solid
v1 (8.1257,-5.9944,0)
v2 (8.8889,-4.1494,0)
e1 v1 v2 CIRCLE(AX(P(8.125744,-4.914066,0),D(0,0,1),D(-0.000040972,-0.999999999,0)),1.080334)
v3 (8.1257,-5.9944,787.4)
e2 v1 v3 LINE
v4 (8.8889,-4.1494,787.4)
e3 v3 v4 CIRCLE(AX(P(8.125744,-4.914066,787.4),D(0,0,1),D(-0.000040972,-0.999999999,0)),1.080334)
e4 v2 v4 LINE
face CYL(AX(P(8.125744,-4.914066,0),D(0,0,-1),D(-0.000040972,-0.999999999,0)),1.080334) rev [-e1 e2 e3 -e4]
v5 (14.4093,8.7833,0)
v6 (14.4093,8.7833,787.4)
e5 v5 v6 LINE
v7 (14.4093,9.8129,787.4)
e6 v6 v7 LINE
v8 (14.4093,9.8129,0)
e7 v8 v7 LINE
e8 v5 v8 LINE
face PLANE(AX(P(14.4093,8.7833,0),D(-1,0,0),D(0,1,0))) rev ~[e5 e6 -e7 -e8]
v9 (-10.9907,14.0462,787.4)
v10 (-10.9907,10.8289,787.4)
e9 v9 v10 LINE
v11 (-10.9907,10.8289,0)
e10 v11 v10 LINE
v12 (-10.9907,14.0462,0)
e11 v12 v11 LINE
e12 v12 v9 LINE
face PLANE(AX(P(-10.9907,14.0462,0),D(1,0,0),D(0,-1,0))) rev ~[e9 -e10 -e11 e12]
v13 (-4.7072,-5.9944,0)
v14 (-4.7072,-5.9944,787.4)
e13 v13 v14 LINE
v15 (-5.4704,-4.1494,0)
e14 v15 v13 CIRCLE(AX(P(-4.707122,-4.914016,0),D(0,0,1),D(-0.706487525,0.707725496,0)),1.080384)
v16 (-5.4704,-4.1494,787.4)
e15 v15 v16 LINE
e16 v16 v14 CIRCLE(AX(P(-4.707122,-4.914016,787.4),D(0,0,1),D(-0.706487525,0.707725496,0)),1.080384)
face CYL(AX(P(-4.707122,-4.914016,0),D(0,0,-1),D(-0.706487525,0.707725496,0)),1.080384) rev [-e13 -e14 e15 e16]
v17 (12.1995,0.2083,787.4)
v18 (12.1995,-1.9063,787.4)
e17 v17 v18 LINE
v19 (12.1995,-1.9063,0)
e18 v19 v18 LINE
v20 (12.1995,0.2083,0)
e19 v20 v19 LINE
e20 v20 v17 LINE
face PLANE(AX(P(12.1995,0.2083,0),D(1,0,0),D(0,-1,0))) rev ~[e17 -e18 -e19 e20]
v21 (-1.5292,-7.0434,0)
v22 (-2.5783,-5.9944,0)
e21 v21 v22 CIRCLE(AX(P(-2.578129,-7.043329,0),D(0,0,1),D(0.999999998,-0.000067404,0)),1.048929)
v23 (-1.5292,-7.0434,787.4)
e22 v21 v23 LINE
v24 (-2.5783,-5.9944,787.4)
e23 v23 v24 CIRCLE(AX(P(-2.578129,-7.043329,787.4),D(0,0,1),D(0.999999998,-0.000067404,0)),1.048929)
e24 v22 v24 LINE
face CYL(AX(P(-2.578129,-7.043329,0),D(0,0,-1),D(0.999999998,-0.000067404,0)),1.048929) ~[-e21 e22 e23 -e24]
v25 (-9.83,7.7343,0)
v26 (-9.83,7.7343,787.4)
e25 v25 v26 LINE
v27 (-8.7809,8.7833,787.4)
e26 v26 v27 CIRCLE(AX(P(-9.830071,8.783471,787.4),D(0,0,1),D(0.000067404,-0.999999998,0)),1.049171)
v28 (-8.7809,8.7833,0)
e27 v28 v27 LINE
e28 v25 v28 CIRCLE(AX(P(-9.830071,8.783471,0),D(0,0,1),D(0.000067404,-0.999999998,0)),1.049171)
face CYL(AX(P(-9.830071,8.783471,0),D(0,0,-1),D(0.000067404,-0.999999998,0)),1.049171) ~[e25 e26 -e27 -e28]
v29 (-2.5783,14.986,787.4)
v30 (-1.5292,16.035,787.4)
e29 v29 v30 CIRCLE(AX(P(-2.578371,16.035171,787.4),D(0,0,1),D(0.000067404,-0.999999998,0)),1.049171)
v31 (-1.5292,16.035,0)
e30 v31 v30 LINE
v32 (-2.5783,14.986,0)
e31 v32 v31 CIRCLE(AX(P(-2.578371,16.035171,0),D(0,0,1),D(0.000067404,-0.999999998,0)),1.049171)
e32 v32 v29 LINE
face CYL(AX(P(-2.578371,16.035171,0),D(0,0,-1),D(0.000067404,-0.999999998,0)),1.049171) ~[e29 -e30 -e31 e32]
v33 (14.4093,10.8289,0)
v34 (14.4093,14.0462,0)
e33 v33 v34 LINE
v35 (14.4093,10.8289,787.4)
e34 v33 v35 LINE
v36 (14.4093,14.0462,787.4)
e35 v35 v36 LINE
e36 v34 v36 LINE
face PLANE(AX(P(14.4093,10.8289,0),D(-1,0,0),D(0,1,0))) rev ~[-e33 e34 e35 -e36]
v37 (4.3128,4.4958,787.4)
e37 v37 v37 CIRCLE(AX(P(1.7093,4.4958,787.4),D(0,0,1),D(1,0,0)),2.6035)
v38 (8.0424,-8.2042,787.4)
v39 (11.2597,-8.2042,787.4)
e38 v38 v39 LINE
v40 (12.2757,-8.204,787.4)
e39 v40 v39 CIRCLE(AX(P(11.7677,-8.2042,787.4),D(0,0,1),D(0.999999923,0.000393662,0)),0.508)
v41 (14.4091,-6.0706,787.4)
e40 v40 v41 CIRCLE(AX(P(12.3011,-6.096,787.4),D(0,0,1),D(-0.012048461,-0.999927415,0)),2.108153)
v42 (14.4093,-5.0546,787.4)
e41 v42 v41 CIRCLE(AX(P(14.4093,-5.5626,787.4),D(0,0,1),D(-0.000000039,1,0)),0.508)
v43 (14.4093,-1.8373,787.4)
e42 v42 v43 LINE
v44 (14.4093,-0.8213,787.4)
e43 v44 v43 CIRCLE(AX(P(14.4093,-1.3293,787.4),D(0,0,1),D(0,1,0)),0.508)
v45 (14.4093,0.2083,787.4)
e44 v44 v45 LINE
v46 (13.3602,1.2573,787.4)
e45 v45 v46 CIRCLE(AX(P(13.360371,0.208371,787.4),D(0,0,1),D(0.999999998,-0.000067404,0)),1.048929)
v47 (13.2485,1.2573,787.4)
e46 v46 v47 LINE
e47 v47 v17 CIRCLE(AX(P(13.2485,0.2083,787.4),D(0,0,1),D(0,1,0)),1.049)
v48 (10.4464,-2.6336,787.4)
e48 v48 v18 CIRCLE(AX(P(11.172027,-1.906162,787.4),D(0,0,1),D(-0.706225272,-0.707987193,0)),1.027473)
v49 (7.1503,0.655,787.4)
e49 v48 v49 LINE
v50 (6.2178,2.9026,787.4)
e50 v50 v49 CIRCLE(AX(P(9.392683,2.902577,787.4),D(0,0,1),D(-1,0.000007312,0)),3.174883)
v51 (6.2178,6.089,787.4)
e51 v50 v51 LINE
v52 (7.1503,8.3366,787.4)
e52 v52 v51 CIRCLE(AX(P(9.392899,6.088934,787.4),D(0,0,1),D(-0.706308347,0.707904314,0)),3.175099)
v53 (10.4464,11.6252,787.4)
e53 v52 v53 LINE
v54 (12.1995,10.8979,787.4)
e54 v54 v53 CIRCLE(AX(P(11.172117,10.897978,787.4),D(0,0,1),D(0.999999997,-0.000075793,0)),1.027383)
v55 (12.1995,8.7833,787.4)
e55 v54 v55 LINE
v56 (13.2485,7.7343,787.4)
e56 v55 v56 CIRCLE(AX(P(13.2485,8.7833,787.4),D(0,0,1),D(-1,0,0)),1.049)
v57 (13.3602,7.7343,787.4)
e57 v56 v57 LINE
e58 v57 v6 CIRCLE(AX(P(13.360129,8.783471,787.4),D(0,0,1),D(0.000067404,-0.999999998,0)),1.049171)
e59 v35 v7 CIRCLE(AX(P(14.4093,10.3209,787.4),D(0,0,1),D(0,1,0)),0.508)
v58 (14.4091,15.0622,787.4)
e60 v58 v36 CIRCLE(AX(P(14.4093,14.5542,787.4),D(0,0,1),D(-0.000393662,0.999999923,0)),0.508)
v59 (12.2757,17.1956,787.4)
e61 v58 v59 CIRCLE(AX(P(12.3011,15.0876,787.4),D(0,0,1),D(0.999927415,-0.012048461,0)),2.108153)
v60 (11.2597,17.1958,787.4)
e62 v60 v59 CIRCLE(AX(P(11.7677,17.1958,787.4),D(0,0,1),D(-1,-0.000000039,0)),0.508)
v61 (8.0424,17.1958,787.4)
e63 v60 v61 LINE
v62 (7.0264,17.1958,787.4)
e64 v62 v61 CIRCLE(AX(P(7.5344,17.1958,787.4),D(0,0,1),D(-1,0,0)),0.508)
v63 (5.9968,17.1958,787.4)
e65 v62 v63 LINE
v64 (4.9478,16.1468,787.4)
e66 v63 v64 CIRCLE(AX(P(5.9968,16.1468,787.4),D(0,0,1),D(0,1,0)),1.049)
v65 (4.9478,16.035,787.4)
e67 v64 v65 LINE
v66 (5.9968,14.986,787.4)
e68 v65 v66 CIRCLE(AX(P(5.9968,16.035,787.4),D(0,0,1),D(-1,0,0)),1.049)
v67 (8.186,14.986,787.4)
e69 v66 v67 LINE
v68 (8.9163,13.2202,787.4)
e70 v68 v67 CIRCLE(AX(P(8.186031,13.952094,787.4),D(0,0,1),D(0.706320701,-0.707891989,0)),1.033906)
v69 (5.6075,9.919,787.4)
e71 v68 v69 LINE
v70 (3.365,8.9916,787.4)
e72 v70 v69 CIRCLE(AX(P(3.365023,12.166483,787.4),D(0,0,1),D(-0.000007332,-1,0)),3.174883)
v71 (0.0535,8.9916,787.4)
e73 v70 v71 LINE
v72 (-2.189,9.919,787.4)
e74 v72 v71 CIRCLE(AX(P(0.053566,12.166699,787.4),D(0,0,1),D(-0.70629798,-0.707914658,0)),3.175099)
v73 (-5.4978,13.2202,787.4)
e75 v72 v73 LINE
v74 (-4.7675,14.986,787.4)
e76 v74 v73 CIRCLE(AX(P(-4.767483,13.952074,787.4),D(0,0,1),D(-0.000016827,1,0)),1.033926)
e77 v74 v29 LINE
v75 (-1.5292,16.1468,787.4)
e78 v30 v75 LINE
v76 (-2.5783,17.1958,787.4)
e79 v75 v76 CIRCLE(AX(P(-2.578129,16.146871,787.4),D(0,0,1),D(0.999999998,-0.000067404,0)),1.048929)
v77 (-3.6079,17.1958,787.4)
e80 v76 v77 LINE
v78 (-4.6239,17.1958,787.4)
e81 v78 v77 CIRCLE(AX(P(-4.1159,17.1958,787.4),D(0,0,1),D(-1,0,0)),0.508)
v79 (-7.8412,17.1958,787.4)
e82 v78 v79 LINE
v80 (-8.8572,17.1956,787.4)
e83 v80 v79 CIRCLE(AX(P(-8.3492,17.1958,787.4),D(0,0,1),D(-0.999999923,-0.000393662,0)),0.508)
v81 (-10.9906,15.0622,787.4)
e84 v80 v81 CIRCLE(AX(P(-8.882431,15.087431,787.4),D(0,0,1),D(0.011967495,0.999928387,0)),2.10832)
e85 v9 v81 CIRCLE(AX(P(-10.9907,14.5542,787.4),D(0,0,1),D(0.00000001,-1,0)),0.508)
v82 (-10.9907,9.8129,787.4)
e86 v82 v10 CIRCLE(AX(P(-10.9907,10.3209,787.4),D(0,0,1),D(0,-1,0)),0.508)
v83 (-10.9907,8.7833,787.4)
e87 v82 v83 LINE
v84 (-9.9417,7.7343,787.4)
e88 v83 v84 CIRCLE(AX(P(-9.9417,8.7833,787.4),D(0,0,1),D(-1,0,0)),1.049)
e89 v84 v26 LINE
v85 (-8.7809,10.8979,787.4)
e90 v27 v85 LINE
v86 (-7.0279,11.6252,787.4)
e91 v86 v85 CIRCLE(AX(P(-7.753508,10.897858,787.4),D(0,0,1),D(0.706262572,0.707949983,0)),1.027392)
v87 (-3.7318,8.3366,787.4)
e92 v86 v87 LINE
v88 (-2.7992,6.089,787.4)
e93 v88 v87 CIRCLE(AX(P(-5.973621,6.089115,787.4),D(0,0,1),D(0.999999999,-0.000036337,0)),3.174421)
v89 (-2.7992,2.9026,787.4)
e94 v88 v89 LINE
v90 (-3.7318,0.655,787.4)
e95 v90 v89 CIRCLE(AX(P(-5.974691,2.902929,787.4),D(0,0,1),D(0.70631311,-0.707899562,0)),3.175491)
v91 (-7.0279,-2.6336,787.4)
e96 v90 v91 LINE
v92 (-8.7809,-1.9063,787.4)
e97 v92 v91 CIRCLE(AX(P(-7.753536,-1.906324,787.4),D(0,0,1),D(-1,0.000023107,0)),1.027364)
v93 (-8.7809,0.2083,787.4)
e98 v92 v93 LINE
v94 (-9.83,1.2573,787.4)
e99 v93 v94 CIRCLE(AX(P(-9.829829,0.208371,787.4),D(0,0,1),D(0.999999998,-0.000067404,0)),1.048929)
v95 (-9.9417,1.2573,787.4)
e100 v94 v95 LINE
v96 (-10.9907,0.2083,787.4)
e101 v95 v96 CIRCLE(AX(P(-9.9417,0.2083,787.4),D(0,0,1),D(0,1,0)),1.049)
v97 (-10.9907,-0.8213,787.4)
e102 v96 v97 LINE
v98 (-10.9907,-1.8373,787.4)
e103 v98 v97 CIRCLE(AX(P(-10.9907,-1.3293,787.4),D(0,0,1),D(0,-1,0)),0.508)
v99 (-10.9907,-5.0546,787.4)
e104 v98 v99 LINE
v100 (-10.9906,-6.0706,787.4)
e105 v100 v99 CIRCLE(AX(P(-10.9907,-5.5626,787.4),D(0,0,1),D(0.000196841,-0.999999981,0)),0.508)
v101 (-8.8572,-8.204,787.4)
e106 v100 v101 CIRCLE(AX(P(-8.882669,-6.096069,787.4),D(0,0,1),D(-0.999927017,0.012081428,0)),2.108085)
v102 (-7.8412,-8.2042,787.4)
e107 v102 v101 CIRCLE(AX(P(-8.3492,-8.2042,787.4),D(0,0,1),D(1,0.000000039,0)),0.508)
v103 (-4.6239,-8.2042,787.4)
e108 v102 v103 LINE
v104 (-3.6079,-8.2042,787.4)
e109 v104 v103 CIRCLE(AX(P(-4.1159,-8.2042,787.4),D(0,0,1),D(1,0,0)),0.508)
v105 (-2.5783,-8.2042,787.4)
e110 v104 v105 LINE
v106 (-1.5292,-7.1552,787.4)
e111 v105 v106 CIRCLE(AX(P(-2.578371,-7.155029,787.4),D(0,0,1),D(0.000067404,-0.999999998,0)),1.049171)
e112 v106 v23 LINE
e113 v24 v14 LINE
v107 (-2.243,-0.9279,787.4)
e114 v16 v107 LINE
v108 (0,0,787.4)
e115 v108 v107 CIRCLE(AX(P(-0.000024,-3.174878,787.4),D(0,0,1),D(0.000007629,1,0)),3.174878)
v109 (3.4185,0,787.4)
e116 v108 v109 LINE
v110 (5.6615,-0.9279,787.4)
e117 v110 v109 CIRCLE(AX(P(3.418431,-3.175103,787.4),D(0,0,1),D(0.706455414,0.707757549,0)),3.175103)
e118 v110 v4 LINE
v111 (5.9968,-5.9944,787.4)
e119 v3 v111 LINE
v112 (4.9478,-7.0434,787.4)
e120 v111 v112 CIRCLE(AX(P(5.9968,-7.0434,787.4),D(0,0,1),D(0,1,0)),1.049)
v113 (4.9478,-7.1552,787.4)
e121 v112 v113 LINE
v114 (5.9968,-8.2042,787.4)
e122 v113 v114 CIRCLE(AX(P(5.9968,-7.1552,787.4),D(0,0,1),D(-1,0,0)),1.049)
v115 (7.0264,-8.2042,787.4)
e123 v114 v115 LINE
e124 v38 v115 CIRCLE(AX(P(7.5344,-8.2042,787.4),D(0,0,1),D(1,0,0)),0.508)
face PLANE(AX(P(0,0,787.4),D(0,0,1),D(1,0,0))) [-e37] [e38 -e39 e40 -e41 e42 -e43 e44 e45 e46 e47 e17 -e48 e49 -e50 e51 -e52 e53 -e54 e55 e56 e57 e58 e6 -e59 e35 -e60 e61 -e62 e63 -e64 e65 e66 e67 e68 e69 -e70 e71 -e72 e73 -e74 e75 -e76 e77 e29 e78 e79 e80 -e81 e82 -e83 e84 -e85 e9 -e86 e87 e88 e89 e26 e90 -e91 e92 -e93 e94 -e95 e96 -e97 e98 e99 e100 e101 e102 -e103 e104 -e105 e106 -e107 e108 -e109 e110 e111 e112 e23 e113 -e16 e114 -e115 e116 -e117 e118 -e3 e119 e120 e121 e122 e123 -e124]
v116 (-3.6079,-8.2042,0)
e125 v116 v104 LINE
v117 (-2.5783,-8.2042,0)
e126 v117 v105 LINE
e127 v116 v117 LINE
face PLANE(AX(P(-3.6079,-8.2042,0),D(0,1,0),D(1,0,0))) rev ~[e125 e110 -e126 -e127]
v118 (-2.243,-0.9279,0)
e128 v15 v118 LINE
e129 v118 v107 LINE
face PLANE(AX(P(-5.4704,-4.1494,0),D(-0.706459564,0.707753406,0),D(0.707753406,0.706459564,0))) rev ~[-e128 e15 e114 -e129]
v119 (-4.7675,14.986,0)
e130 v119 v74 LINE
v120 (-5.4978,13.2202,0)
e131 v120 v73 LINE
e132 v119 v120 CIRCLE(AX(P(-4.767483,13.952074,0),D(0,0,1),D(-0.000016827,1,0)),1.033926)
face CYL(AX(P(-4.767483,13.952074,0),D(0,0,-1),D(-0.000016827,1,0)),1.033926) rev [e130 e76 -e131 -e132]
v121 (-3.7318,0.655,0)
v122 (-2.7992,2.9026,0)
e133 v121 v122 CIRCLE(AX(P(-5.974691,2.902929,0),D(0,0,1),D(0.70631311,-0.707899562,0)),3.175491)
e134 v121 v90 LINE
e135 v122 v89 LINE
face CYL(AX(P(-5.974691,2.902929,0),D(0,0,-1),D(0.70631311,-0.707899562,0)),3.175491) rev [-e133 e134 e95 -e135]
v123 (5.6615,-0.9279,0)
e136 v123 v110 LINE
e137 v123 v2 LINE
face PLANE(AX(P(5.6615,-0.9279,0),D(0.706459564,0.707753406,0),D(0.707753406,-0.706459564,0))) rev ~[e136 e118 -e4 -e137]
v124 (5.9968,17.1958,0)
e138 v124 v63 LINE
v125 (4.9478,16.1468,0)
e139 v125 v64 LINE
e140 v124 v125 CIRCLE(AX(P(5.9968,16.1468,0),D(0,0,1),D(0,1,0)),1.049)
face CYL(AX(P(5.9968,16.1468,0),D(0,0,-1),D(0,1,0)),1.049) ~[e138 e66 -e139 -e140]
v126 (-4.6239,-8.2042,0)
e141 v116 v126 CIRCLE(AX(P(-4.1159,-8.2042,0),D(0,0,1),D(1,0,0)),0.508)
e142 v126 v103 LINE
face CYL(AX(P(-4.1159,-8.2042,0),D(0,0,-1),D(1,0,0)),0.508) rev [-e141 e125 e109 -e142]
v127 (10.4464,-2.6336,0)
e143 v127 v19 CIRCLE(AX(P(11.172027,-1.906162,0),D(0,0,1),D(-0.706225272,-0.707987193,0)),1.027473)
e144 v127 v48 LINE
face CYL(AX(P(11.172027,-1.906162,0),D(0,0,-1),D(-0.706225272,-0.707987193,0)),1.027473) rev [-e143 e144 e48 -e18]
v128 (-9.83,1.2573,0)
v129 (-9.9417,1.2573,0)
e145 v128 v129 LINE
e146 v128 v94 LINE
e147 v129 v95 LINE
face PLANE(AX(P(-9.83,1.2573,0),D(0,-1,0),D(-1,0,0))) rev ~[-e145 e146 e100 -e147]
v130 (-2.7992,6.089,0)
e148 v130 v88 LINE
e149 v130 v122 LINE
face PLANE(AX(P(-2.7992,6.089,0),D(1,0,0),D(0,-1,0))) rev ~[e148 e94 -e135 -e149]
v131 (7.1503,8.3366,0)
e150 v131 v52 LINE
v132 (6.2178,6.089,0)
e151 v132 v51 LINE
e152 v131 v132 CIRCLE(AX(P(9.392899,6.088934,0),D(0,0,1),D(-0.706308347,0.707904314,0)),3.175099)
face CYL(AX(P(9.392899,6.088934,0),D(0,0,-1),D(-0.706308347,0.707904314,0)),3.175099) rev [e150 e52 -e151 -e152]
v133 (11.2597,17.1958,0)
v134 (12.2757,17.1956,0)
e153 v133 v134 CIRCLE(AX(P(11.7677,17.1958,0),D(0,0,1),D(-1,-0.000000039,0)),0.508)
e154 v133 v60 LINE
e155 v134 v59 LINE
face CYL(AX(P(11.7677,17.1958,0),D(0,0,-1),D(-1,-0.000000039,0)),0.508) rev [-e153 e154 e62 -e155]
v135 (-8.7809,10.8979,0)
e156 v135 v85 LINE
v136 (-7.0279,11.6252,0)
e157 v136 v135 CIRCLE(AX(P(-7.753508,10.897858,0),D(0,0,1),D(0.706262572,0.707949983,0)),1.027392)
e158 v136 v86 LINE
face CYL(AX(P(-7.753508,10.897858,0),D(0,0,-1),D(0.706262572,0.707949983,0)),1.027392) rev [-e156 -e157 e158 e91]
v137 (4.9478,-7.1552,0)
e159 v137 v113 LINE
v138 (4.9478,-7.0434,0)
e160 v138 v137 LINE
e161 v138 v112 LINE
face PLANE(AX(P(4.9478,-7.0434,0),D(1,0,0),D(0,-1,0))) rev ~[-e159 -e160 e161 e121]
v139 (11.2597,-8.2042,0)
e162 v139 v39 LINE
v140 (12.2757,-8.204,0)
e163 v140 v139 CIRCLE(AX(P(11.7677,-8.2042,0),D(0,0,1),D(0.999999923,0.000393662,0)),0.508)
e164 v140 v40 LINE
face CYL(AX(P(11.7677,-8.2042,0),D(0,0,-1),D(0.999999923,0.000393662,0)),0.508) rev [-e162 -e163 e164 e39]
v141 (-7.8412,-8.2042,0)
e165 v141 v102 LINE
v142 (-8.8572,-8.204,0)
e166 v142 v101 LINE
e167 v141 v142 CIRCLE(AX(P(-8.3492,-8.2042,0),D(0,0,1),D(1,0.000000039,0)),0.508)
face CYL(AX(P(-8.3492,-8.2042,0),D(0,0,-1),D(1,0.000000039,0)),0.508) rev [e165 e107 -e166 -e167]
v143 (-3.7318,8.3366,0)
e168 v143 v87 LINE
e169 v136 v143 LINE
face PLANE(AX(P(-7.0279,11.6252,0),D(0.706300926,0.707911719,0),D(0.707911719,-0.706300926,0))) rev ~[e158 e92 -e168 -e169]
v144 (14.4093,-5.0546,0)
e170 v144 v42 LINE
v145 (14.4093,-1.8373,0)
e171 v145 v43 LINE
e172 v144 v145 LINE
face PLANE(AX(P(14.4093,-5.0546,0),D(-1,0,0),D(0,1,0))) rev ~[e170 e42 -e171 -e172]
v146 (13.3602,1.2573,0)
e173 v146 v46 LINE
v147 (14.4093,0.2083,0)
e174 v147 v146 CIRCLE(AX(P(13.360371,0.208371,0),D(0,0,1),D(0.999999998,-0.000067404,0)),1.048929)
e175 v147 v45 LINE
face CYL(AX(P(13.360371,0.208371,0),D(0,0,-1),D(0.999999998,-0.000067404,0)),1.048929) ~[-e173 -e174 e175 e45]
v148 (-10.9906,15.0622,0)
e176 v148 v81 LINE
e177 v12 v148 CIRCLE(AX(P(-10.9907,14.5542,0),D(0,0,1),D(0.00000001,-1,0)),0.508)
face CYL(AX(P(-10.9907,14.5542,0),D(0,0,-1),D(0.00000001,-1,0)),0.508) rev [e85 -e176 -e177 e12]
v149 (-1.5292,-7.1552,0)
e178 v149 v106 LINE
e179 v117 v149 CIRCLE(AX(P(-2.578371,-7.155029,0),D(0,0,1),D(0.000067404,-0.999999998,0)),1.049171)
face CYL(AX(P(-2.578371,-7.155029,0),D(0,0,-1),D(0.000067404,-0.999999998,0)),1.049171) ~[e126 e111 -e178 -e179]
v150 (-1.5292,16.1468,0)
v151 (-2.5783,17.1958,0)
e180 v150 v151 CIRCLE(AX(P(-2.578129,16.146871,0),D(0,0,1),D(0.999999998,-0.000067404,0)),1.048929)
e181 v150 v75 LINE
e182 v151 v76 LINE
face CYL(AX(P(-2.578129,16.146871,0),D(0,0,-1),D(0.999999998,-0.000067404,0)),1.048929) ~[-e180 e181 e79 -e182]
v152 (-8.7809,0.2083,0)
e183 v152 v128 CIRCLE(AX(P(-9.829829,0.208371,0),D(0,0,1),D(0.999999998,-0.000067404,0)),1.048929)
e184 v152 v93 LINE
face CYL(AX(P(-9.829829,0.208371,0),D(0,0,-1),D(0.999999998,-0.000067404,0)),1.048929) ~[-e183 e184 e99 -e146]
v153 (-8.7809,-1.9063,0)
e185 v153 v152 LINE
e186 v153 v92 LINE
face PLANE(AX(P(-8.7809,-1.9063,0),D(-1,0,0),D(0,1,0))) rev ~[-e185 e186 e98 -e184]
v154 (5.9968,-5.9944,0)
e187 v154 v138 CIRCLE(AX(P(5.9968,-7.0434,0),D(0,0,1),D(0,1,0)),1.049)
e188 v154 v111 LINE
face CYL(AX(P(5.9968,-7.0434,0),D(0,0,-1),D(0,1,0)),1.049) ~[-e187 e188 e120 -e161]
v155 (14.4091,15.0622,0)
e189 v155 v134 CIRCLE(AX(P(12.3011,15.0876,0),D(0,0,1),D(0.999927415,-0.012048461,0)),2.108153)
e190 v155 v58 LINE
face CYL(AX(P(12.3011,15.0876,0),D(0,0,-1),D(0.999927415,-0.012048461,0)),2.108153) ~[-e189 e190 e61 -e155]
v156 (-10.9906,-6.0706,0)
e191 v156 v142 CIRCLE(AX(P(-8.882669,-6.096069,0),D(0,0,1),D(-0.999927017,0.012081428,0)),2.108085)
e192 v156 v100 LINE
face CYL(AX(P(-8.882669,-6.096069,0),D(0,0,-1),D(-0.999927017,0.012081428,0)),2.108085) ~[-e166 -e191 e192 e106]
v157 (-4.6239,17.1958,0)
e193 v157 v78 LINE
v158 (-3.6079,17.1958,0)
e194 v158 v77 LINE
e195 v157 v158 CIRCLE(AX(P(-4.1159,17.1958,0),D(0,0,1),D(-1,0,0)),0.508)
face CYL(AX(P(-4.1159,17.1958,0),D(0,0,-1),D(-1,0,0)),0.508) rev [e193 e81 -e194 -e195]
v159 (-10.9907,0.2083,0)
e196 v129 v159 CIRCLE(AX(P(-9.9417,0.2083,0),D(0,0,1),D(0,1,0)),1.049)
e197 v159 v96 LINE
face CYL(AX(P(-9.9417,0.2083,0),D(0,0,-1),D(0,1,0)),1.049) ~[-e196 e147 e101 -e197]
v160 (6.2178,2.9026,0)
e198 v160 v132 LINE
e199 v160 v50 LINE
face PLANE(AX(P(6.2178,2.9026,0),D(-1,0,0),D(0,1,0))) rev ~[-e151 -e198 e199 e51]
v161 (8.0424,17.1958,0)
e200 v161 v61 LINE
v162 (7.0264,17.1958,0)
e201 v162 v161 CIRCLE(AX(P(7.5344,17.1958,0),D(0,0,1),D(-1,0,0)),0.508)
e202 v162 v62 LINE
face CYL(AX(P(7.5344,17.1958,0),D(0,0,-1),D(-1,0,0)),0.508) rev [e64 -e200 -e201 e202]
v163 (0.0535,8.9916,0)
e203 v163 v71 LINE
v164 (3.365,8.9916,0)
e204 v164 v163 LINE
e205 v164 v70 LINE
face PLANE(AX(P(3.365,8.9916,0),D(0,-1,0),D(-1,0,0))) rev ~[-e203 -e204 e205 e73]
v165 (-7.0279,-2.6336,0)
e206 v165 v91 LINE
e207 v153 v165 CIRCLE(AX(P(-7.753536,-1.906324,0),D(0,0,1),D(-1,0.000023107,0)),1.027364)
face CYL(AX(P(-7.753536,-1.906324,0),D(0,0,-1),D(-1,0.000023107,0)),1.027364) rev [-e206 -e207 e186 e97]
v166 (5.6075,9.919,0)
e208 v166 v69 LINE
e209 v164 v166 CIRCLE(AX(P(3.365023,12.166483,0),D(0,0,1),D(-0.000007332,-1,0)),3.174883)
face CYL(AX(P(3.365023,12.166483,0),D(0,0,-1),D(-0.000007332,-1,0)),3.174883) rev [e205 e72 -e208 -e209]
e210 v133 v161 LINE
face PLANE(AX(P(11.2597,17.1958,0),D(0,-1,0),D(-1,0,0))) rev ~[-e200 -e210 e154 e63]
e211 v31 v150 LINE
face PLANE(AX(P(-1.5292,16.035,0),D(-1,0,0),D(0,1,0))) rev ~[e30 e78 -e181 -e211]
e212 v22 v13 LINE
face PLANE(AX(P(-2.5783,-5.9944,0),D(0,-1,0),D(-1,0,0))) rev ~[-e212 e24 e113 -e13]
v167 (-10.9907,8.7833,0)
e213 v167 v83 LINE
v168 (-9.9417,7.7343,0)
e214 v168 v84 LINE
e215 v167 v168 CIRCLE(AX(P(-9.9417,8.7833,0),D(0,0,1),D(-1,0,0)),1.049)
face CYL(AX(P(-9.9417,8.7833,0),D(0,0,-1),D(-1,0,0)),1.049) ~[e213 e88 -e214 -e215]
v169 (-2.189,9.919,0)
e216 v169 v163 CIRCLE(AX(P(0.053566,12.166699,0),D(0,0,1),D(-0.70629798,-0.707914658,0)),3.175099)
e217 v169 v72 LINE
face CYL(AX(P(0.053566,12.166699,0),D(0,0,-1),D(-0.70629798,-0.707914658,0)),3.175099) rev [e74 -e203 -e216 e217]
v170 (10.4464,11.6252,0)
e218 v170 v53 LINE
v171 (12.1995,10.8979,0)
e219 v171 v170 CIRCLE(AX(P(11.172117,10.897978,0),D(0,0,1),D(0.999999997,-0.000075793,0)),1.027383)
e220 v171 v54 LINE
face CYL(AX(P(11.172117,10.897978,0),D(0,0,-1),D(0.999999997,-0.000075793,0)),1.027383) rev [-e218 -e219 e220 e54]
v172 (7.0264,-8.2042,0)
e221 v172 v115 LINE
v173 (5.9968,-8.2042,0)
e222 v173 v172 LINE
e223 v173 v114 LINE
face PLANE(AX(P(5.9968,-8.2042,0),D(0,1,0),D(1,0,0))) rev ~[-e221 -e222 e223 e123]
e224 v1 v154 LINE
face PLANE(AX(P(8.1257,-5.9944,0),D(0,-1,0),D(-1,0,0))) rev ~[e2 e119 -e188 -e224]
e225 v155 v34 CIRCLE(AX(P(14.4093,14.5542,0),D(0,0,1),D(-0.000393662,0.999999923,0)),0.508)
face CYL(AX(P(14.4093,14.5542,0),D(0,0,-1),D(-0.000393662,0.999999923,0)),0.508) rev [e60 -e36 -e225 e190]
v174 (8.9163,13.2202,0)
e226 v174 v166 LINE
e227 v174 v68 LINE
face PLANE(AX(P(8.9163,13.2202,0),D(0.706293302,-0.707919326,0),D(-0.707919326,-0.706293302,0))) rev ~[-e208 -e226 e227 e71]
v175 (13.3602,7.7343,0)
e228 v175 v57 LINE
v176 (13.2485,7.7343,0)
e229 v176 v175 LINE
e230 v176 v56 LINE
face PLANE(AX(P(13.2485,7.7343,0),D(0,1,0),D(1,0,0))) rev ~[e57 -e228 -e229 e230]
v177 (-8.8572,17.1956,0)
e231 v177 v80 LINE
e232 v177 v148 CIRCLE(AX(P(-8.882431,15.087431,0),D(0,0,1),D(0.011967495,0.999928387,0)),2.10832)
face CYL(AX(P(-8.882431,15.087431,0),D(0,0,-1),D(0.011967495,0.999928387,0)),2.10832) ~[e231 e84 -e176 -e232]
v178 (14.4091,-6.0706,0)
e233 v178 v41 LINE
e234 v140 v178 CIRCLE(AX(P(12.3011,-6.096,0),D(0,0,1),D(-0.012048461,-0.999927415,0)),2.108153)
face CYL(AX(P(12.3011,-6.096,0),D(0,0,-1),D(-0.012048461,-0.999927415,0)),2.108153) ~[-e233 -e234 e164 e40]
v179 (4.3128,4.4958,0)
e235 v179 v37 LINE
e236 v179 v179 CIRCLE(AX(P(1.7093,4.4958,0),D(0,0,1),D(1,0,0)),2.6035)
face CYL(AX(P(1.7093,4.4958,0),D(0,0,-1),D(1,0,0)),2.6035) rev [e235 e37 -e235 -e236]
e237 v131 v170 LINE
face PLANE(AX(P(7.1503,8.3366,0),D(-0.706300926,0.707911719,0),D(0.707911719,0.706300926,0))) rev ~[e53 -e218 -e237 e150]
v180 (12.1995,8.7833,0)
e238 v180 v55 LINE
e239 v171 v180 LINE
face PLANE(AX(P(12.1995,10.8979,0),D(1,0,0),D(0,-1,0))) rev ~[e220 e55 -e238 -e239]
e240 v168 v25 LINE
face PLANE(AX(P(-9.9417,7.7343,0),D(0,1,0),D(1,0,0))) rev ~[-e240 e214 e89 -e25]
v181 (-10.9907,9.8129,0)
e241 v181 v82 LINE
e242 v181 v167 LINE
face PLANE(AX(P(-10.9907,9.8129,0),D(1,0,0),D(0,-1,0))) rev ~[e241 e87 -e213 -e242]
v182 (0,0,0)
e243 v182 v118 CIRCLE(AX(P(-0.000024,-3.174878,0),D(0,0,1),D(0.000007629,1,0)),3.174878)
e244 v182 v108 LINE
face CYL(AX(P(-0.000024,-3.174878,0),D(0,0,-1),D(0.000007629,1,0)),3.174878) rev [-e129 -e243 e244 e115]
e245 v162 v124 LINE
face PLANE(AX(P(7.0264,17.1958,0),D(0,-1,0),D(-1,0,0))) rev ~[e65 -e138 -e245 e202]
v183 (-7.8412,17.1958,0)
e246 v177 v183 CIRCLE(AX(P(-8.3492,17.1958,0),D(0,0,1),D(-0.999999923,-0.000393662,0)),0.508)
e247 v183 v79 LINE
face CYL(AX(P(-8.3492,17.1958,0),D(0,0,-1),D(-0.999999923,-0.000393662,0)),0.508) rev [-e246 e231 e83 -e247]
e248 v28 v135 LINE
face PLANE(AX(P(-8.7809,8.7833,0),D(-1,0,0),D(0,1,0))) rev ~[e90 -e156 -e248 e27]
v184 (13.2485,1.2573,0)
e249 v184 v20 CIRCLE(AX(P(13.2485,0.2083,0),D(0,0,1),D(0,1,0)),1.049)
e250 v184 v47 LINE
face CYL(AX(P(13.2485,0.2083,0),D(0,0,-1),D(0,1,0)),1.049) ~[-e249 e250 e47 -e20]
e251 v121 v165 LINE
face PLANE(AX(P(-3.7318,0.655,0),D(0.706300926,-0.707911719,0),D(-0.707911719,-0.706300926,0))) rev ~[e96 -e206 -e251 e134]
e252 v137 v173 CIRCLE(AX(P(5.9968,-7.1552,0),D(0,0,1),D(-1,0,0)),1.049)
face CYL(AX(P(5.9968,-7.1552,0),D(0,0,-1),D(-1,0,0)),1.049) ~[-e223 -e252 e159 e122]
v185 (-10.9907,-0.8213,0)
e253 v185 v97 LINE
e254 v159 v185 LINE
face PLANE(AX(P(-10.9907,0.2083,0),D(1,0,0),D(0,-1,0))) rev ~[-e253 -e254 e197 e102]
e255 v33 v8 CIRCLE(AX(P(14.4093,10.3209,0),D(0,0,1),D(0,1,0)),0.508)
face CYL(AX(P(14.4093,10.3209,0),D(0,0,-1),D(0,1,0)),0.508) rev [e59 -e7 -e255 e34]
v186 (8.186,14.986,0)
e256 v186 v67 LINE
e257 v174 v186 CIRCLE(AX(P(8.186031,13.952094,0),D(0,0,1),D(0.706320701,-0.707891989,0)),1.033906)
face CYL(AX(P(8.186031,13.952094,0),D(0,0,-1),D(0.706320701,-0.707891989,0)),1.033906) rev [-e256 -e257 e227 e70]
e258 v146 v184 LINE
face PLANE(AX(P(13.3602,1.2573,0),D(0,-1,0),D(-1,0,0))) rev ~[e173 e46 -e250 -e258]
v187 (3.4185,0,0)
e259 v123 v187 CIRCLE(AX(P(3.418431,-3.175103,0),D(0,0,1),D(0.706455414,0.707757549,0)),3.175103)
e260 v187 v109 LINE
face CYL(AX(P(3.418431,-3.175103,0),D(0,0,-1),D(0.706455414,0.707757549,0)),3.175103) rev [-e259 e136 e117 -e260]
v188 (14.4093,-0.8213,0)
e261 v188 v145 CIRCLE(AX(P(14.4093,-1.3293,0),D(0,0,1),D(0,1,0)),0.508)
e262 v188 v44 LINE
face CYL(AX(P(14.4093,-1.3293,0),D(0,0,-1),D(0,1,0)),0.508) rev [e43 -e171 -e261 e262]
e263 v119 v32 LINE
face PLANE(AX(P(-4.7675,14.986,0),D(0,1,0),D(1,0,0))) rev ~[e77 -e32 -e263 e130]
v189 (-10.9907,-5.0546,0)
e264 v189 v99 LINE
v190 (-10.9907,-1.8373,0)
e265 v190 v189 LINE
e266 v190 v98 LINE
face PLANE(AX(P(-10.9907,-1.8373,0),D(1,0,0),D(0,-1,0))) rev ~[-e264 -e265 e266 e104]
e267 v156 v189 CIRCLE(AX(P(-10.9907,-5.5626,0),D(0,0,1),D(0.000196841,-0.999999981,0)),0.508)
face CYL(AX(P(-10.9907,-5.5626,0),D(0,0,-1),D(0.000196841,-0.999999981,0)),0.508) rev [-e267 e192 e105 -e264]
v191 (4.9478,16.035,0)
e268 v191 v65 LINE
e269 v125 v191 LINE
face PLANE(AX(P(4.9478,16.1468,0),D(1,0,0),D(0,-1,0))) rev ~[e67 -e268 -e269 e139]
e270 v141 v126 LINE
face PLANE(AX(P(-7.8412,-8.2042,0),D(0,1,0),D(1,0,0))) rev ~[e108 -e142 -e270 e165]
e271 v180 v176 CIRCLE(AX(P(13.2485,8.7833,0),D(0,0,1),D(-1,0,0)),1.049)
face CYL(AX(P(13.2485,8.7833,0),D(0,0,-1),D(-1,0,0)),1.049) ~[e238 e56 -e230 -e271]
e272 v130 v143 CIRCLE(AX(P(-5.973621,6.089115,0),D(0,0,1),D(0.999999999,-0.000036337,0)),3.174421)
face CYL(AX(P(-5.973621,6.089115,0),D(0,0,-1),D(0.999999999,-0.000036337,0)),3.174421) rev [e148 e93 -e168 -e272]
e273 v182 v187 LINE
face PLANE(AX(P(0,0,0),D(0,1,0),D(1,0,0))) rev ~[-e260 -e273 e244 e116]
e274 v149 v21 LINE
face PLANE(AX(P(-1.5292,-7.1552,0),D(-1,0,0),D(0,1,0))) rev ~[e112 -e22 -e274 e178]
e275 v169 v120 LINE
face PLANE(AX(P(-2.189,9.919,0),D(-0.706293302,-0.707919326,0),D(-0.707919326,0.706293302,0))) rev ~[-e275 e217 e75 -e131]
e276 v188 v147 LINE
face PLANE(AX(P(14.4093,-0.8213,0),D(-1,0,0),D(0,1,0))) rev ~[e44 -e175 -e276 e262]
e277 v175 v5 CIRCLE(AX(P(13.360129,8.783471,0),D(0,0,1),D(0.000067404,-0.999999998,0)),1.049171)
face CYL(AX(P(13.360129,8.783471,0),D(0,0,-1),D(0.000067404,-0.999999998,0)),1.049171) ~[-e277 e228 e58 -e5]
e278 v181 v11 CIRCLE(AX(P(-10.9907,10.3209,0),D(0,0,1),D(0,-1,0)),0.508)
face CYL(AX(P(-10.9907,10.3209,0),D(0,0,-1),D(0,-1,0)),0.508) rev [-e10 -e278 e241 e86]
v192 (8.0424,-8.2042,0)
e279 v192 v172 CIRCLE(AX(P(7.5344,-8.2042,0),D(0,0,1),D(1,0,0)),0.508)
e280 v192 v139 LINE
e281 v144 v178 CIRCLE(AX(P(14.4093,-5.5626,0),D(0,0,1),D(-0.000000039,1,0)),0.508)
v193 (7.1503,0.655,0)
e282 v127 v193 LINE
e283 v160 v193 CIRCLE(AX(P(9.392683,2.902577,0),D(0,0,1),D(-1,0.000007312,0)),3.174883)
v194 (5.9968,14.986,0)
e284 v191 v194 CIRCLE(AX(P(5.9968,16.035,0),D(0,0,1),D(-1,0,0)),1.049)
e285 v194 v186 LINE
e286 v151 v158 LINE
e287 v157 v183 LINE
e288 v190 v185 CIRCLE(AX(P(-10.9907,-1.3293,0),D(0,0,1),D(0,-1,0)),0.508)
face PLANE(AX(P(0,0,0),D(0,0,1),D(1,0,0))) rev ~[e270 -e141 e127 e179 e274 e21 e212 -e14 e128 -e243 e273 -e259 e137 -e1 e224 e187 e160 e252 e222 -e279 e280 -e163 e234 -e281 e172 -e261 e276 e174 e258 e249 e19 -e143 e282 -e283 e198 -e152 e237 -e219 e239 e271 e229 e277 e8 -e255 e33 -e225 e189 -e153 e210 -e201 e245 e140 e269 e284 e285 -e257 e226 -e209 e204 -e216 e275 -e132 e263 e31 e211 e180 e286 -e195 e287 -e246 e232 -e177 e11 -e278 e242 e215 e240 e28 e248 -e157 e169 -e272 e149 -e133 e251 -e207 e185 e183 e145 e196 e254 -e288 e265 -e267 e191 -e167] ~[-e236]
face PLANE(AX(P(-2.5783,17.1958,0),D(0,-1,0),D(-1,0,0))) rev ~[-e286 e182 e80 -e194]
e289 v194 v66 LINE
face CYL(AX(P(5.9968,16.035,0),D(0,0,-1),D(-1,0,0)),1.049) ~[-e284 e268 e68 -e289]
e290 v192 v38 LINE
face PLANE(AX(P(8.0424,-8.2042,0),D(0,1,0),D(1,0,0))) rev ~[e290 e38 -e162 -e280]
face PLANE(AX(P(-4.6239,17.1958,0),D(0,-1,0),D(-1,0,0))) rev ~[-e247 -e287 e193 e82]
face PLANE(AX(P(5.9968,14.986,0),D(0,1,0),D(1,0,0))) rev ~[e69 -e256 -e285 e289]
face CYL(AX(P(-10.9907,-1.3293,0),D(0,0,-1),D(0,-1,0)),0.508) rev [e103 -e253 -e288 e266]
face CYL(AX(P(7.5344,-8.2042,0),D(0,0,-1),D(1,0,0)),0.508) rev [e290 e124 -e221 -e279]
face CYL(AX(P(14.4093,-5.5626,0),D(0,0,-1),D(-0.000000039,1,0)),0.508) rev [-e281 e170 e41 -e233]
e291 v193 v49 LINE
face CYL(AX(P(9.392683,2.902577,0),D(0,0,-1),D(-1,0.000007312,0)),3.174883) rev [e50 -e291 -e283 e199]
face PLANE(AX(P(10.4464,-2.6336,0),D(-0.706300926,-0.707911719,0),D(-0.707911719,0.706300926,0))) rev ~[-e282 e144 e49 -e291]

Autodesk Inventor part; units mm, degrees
ref_plane "YZ Plane" through (0, 0, 0) normal (1, 0, 0) x (0, 1, 0)
ref_plane "XZ Plane" through (0, 0, 0) normal (0, 1, 0) x (-1, 0, 0)
ref_plane "XY Plane" through (0, 0, 0) normal (0, 0, 1) x (1, 0, 0)
sketch "Sketch1" plane through (0, 0, 0) normal (0, 0, 1) x (1, 0, 0)
  arc A0 (-5.4704, -4.1494) -> (-4.7072, -5.9944) centre (-4.7072, -4.914) ccw
  line L0 (-5.4704, -4.1494) -> (-2.243, -0.9279)
  arc A1 (0, 0) -> (-2.243, -0.9279) centre (0, -3.175) ccw
  line L1 (0, 0) -> (3.4185, 0)
  arc A2 (5.6615, -0.9279) -> (3.4185, 0) centre (3.4185, -3.175) ccw
  line L2 (5.6615, -0.9279) -> (8.8889, -4.1494)
  arc A3 (8.1257, -5.9944) -> (8.8889, -4.1494) centre (8.1257, -4.914) ccw
  line L3 (8.1257, -5.9944) -> (5.9968, -5.9944)
  arc A4 (5.9968, -5.9944) -> (4.9478, -7.0434) centre (5.9968, -7.0434) ccw
  line L4 (4.9478, -7.0434) -> (4.9478, -7.1552)
  arc A5 (4.9478, -7.1552) -> (5.9968, -8.2042) centre (5.9968, -7.1552) ccw
  line L5 (5.9968, -8.2042) -> (7.0264, -8.2042)
  arc A6 (8.0424, -8.2042) -> (7.0264, -8.2042) centre (7.5344, -8.2042) ccw
  line L6 (8.0424, -8.2042) -> (11.2597, -8.2042)
  arc A7 (12.2757, -8.204) -> (11.2597, -8.2042) centre (11.7677, -8.2042) ccw
  arc A8 (12.2757, -8.204) -> (14.4091, -6.0706) centre (12.3011, -6.096) ccw
  arc A9 (14.4093, -5.0546) -> (14.4091, -6.0706) centre (14.4093, -5.5626) ccw
  line L7 (14.4093, -5.0546) -> (14.4093, -1.8373)
  arc A10 (14.4093, -0.8213) -> (14.4093, -1.8373) centre (14.4093, -1.3293) ccw
  line L8 (14.4093, -0.8213) -> (14.4093, 0.2083)
  arc A11 (14.4093, 0.2083) -> (13.3602, 1.2573) centre (13.3602, 0.2083) ccw
  line L9 (13.3602, 1.2573) -> (13.2485, 1.2573)
  arc A12 (13.2485, 1.2573) -> (12.1995, 0.2083) centre (13.2485, 0.2083) ccw
  line L10 (12.1995, 0.2083) -> (12.1995, -1.9063)
  arc A13 (10.4464, -2.6336) -> (12.1995, -1.9063) centre (11.172, -1.9063) ccw
  line L11 (10.4464, -2.6336) -> (7.1503, 0.655)
  arc A14 (6.2178, 2.9026) -> (7.1503, 0.655) centre (9.3928, 2.9026) ccw
  line L12 (6.2178, 2.9026) -> (6.2178, 6.089)
  arc A15 (7.1503, 8.3366) -> (6.2178, 6.089) centre (9.3928, 6.089) ccw
  line L13 (7.1503, 8.3366) -> (10.4464, 11.6252)
  arc A16 (12.1995, 10.8979) -> (10.4464, 11.6252) centre (11.172, 10.8979) ccw
  line L14 (12.1995, 10.8979) -> (12.1995, 8.7833)
  arc A17 (12.1995, 8.7833) -> (13.2485, 7.7343) centre (13.2485, 8.7833) ccw
  line L15 (13.2485, 7.7343) -> (13.3602, 7.7343)
  arc A18 (13.3602, 7.7343) -> (14.4093, 8.7833) centre (13.3602, 8.7833) ccw
  line L16 (14.4093, 8.7833) -> (14.4093, 9.8129)
  arc A19 (14.4093, 10.8289) -> (14.4093, 9.8129) centre (14.4093, 10.3209) ccw
  line L17 (14.4093, 10.8289) -> (14.4093, 14.0462)
  arc A20 (14.4091, 15.0622) -> (14.4093, 14.0462) centre (14.4093, 14.5542) ccw
  arc A21 (14.4091, 15.0622) -> (12.2757, 17.1956) centre (12.3011, 15.0876) ccw
  arc A22 (11.2597, 17.1958) -> (12.2757, 17.1956) centre (11.7677, 17.1958) ccw
  line L18 (11.2597, 17.1958) -> (8.0424, 17.1958)
  arc A23 (7.0264, 17.1958) -> (8.0424, 17.1958) centre (7.5344, 17.1958) ccw
  line L19 (7.0264, 17.1958) -> (5.9968, 17.1958)
  arc A24 (5.9968, 17.1958) -> (4.9478, 16.1468) centre (5.9968, 16.1468) ccw
  line L20 (4.9478, 16.1468) -> (4.9478, 16.035)
  arc A25 (4.9478, 16.035) -> (5.9968, 14.986) centre (5.9968, 16.035) ccw
  line L21 (5.9968, 14.986) -> (8.186, 14.986)
  arc A26 (8.9163, 13.2202) -> (8.186, 14.986) centre (8.186, 13.9521) ccw
  line L22 (8.9163, 13.2202) -> (5.6075, 9.919)
  arc A27 (3.365, 8.9916) -> (5.6075, 9.919) centre (3.365, 12.1666) ccw
  line L23 (3.365, 8.9916) -> (0.0535, 8.9916)
  arc A28 (-2.189, 9.919) -> (0.0535, 8.9916) centre (0.0535, 12.1666) ccw
  line L24 (-2.189, 9.919) -> (-5.4978, 13.2202)
  arc A29 (-4.7675, 14.986) -> (-5.4978, 13.2202) centre (-4.7675, 13.9521) ccw
  line L25 (-4.7675, 14.986) -> (-2.5783, 14.986)
  arc A30 (-2.5783, 14.986) -> (-1.5292, 16.035) centre (-2.5783, 16.035) ccw
  line L26 (-1.5292, 16.035) -> (-1.5292, 16.1468)
  arc A31 (-1.5292, 16.1468) -> (-2.5783, 17.1958) centre (-2.5783, 16.1468) ccw
  line L27 (-2.5783, 17.1958) -> (-3.6079, 17.1958)
  arc A32 (-4.6239, 17.1958) -> (-3.6079, 17.1958) centre (-4.1159, 17.1958) ccw
  line L28 (-4.6239, 17.1958) -> (-7.8412, 17.1958)
  arc A33 (-8.8572, 17.1956) -> (-7.8412, 17.1958) centre (-8.3492, 17.1958) ccw
  arc A34 (-8.8572, 17.1956) -> (-10.9906, 15.0622) centre (-8.8825, 15.0876) ccw
  arc A35 (-10.9907, 14.0462) -> (-10.9906, 15.0622) centre (-10.9907, 14.5542) ccw
  line L29 (-10.9907, 14.0462) -> (-10.9907, 10.8289)
  arc A36 (-10.9907, 9.8129) -> (-10.9907, 10.8289) centre (-10.9907, 10.3209) ccw
  line L30 (-10.9907, 9.8129) -> (-10.9907, 8.7833)
  arc A37 (-10.9907, 8.7833) -> (-9.9417, 7.7343) centre (-9.9417, 8.7833) ccw
  line L31 (-9.9417, 7.7343) -> (-9.83, 7.7343)
  arc A38 (-9.83, 7.7343) -> (-8.7809, 8.7833) centre (-9.83, 8.7833) ccw
  line L32 (-8.7809, 8.7833) -> (-8.7809, 10.8979)
  arc A39 (-7.0279, 11.6252) -> (-8.7809, 10.8979) centre (-7.7535, 10.8979) ccw
  line L33 (-7.0279, 11.6252) -> (-3.7318, 8.3366)
  arc A40 (-2.7992, 6.089) -> (-3.7318, 8.3366) centre (-5.9742, 6.089) ccw
  line L34 (-2.7992, 6.089) -> (-2.7992, 2.9026)
  arc A41 (-3.7318, 0.655) -> (-2.7992, 2.9026) centre (-5.9742, 2.9026) ccw
  line L35 (-3.7318, 0.655) -> (-7.0279, -2.6336)
  arc A42 (-8.7809, -1.9063) -> (-7.0279, -2.6336) centre (-7.7535, -1.9063) ccw
  line L36 (-8.7809, -1.9063) -> (-8.7809, 0.2083)
  arc A43 (-8.7809, 0.2083) -> (-9.83, 1.2573) centre (-9.83, 0.2083) ccw
  line L37 (-9.83, 1.2573) -> (-9.9417, 1.2573)
  arc A44 (-9.9417, 1.2573) -> (-10.9907, 0.2083) centre (-9.9417, 0.2083) ccw
  line L38 (-10.9907, 0.2083) -> (-10.9907, -0.8213)
  arc A45 (-10.9907, -1.8373) -> (-10.9907, -0.8213) centre (-10.9907, -1.3293) ccw
  line L39 (-10.9907, -1.8373) -> (-10.9907, -5.0546)
  arc A46 (-10.9906, -6.0706) -> (-10.9907, -5.0546) centre (-10.9907, -5.5626) ccw
  arc A47 (-10.9906, -6.0706) -> (-8.8572, -8.204) centre (-8.8825, -6.096) ccw
  arc A48 (-7.8412, -8.2042) -> (-8.8572, -8.204) centre (-8.3492, -8.2042) ccw
  line L40 (-7.8412, -8.2042) -> (-4.6239, -8.2042)
  arc A49 (-3.6079, -8.2042) -> (-4.6239, -8.2042) centre (-4.1159, -8.2042) ccw
  line L41 (-3.6079, -8.2042) -> (-2.5783, -8.2042)
  arc A50 (-2.5783, -8.2042) -> (-1.5292, -7.1552) centre (-2.5783, -7.1552) ccw
  line L42 (-1.5292, -7.1552) -> (-1.5292, -7.0434)
  arc A51 (-1.5292, -7.0434) -> (-2.5783, -5.9944) centre (-2.5783, -7.0434) ccw
  line L43 (-2.5783, -5.9944) -> (-4.7072, -5.9944)
  circle A52 centre (1.7093, 4.4958) radius 2.6035
extrude "Extrusion1" add sketch "Sketch1" along normal blind 787.4
properties part number "31 in 1x1 T slot" material "Steel, Alloy"
